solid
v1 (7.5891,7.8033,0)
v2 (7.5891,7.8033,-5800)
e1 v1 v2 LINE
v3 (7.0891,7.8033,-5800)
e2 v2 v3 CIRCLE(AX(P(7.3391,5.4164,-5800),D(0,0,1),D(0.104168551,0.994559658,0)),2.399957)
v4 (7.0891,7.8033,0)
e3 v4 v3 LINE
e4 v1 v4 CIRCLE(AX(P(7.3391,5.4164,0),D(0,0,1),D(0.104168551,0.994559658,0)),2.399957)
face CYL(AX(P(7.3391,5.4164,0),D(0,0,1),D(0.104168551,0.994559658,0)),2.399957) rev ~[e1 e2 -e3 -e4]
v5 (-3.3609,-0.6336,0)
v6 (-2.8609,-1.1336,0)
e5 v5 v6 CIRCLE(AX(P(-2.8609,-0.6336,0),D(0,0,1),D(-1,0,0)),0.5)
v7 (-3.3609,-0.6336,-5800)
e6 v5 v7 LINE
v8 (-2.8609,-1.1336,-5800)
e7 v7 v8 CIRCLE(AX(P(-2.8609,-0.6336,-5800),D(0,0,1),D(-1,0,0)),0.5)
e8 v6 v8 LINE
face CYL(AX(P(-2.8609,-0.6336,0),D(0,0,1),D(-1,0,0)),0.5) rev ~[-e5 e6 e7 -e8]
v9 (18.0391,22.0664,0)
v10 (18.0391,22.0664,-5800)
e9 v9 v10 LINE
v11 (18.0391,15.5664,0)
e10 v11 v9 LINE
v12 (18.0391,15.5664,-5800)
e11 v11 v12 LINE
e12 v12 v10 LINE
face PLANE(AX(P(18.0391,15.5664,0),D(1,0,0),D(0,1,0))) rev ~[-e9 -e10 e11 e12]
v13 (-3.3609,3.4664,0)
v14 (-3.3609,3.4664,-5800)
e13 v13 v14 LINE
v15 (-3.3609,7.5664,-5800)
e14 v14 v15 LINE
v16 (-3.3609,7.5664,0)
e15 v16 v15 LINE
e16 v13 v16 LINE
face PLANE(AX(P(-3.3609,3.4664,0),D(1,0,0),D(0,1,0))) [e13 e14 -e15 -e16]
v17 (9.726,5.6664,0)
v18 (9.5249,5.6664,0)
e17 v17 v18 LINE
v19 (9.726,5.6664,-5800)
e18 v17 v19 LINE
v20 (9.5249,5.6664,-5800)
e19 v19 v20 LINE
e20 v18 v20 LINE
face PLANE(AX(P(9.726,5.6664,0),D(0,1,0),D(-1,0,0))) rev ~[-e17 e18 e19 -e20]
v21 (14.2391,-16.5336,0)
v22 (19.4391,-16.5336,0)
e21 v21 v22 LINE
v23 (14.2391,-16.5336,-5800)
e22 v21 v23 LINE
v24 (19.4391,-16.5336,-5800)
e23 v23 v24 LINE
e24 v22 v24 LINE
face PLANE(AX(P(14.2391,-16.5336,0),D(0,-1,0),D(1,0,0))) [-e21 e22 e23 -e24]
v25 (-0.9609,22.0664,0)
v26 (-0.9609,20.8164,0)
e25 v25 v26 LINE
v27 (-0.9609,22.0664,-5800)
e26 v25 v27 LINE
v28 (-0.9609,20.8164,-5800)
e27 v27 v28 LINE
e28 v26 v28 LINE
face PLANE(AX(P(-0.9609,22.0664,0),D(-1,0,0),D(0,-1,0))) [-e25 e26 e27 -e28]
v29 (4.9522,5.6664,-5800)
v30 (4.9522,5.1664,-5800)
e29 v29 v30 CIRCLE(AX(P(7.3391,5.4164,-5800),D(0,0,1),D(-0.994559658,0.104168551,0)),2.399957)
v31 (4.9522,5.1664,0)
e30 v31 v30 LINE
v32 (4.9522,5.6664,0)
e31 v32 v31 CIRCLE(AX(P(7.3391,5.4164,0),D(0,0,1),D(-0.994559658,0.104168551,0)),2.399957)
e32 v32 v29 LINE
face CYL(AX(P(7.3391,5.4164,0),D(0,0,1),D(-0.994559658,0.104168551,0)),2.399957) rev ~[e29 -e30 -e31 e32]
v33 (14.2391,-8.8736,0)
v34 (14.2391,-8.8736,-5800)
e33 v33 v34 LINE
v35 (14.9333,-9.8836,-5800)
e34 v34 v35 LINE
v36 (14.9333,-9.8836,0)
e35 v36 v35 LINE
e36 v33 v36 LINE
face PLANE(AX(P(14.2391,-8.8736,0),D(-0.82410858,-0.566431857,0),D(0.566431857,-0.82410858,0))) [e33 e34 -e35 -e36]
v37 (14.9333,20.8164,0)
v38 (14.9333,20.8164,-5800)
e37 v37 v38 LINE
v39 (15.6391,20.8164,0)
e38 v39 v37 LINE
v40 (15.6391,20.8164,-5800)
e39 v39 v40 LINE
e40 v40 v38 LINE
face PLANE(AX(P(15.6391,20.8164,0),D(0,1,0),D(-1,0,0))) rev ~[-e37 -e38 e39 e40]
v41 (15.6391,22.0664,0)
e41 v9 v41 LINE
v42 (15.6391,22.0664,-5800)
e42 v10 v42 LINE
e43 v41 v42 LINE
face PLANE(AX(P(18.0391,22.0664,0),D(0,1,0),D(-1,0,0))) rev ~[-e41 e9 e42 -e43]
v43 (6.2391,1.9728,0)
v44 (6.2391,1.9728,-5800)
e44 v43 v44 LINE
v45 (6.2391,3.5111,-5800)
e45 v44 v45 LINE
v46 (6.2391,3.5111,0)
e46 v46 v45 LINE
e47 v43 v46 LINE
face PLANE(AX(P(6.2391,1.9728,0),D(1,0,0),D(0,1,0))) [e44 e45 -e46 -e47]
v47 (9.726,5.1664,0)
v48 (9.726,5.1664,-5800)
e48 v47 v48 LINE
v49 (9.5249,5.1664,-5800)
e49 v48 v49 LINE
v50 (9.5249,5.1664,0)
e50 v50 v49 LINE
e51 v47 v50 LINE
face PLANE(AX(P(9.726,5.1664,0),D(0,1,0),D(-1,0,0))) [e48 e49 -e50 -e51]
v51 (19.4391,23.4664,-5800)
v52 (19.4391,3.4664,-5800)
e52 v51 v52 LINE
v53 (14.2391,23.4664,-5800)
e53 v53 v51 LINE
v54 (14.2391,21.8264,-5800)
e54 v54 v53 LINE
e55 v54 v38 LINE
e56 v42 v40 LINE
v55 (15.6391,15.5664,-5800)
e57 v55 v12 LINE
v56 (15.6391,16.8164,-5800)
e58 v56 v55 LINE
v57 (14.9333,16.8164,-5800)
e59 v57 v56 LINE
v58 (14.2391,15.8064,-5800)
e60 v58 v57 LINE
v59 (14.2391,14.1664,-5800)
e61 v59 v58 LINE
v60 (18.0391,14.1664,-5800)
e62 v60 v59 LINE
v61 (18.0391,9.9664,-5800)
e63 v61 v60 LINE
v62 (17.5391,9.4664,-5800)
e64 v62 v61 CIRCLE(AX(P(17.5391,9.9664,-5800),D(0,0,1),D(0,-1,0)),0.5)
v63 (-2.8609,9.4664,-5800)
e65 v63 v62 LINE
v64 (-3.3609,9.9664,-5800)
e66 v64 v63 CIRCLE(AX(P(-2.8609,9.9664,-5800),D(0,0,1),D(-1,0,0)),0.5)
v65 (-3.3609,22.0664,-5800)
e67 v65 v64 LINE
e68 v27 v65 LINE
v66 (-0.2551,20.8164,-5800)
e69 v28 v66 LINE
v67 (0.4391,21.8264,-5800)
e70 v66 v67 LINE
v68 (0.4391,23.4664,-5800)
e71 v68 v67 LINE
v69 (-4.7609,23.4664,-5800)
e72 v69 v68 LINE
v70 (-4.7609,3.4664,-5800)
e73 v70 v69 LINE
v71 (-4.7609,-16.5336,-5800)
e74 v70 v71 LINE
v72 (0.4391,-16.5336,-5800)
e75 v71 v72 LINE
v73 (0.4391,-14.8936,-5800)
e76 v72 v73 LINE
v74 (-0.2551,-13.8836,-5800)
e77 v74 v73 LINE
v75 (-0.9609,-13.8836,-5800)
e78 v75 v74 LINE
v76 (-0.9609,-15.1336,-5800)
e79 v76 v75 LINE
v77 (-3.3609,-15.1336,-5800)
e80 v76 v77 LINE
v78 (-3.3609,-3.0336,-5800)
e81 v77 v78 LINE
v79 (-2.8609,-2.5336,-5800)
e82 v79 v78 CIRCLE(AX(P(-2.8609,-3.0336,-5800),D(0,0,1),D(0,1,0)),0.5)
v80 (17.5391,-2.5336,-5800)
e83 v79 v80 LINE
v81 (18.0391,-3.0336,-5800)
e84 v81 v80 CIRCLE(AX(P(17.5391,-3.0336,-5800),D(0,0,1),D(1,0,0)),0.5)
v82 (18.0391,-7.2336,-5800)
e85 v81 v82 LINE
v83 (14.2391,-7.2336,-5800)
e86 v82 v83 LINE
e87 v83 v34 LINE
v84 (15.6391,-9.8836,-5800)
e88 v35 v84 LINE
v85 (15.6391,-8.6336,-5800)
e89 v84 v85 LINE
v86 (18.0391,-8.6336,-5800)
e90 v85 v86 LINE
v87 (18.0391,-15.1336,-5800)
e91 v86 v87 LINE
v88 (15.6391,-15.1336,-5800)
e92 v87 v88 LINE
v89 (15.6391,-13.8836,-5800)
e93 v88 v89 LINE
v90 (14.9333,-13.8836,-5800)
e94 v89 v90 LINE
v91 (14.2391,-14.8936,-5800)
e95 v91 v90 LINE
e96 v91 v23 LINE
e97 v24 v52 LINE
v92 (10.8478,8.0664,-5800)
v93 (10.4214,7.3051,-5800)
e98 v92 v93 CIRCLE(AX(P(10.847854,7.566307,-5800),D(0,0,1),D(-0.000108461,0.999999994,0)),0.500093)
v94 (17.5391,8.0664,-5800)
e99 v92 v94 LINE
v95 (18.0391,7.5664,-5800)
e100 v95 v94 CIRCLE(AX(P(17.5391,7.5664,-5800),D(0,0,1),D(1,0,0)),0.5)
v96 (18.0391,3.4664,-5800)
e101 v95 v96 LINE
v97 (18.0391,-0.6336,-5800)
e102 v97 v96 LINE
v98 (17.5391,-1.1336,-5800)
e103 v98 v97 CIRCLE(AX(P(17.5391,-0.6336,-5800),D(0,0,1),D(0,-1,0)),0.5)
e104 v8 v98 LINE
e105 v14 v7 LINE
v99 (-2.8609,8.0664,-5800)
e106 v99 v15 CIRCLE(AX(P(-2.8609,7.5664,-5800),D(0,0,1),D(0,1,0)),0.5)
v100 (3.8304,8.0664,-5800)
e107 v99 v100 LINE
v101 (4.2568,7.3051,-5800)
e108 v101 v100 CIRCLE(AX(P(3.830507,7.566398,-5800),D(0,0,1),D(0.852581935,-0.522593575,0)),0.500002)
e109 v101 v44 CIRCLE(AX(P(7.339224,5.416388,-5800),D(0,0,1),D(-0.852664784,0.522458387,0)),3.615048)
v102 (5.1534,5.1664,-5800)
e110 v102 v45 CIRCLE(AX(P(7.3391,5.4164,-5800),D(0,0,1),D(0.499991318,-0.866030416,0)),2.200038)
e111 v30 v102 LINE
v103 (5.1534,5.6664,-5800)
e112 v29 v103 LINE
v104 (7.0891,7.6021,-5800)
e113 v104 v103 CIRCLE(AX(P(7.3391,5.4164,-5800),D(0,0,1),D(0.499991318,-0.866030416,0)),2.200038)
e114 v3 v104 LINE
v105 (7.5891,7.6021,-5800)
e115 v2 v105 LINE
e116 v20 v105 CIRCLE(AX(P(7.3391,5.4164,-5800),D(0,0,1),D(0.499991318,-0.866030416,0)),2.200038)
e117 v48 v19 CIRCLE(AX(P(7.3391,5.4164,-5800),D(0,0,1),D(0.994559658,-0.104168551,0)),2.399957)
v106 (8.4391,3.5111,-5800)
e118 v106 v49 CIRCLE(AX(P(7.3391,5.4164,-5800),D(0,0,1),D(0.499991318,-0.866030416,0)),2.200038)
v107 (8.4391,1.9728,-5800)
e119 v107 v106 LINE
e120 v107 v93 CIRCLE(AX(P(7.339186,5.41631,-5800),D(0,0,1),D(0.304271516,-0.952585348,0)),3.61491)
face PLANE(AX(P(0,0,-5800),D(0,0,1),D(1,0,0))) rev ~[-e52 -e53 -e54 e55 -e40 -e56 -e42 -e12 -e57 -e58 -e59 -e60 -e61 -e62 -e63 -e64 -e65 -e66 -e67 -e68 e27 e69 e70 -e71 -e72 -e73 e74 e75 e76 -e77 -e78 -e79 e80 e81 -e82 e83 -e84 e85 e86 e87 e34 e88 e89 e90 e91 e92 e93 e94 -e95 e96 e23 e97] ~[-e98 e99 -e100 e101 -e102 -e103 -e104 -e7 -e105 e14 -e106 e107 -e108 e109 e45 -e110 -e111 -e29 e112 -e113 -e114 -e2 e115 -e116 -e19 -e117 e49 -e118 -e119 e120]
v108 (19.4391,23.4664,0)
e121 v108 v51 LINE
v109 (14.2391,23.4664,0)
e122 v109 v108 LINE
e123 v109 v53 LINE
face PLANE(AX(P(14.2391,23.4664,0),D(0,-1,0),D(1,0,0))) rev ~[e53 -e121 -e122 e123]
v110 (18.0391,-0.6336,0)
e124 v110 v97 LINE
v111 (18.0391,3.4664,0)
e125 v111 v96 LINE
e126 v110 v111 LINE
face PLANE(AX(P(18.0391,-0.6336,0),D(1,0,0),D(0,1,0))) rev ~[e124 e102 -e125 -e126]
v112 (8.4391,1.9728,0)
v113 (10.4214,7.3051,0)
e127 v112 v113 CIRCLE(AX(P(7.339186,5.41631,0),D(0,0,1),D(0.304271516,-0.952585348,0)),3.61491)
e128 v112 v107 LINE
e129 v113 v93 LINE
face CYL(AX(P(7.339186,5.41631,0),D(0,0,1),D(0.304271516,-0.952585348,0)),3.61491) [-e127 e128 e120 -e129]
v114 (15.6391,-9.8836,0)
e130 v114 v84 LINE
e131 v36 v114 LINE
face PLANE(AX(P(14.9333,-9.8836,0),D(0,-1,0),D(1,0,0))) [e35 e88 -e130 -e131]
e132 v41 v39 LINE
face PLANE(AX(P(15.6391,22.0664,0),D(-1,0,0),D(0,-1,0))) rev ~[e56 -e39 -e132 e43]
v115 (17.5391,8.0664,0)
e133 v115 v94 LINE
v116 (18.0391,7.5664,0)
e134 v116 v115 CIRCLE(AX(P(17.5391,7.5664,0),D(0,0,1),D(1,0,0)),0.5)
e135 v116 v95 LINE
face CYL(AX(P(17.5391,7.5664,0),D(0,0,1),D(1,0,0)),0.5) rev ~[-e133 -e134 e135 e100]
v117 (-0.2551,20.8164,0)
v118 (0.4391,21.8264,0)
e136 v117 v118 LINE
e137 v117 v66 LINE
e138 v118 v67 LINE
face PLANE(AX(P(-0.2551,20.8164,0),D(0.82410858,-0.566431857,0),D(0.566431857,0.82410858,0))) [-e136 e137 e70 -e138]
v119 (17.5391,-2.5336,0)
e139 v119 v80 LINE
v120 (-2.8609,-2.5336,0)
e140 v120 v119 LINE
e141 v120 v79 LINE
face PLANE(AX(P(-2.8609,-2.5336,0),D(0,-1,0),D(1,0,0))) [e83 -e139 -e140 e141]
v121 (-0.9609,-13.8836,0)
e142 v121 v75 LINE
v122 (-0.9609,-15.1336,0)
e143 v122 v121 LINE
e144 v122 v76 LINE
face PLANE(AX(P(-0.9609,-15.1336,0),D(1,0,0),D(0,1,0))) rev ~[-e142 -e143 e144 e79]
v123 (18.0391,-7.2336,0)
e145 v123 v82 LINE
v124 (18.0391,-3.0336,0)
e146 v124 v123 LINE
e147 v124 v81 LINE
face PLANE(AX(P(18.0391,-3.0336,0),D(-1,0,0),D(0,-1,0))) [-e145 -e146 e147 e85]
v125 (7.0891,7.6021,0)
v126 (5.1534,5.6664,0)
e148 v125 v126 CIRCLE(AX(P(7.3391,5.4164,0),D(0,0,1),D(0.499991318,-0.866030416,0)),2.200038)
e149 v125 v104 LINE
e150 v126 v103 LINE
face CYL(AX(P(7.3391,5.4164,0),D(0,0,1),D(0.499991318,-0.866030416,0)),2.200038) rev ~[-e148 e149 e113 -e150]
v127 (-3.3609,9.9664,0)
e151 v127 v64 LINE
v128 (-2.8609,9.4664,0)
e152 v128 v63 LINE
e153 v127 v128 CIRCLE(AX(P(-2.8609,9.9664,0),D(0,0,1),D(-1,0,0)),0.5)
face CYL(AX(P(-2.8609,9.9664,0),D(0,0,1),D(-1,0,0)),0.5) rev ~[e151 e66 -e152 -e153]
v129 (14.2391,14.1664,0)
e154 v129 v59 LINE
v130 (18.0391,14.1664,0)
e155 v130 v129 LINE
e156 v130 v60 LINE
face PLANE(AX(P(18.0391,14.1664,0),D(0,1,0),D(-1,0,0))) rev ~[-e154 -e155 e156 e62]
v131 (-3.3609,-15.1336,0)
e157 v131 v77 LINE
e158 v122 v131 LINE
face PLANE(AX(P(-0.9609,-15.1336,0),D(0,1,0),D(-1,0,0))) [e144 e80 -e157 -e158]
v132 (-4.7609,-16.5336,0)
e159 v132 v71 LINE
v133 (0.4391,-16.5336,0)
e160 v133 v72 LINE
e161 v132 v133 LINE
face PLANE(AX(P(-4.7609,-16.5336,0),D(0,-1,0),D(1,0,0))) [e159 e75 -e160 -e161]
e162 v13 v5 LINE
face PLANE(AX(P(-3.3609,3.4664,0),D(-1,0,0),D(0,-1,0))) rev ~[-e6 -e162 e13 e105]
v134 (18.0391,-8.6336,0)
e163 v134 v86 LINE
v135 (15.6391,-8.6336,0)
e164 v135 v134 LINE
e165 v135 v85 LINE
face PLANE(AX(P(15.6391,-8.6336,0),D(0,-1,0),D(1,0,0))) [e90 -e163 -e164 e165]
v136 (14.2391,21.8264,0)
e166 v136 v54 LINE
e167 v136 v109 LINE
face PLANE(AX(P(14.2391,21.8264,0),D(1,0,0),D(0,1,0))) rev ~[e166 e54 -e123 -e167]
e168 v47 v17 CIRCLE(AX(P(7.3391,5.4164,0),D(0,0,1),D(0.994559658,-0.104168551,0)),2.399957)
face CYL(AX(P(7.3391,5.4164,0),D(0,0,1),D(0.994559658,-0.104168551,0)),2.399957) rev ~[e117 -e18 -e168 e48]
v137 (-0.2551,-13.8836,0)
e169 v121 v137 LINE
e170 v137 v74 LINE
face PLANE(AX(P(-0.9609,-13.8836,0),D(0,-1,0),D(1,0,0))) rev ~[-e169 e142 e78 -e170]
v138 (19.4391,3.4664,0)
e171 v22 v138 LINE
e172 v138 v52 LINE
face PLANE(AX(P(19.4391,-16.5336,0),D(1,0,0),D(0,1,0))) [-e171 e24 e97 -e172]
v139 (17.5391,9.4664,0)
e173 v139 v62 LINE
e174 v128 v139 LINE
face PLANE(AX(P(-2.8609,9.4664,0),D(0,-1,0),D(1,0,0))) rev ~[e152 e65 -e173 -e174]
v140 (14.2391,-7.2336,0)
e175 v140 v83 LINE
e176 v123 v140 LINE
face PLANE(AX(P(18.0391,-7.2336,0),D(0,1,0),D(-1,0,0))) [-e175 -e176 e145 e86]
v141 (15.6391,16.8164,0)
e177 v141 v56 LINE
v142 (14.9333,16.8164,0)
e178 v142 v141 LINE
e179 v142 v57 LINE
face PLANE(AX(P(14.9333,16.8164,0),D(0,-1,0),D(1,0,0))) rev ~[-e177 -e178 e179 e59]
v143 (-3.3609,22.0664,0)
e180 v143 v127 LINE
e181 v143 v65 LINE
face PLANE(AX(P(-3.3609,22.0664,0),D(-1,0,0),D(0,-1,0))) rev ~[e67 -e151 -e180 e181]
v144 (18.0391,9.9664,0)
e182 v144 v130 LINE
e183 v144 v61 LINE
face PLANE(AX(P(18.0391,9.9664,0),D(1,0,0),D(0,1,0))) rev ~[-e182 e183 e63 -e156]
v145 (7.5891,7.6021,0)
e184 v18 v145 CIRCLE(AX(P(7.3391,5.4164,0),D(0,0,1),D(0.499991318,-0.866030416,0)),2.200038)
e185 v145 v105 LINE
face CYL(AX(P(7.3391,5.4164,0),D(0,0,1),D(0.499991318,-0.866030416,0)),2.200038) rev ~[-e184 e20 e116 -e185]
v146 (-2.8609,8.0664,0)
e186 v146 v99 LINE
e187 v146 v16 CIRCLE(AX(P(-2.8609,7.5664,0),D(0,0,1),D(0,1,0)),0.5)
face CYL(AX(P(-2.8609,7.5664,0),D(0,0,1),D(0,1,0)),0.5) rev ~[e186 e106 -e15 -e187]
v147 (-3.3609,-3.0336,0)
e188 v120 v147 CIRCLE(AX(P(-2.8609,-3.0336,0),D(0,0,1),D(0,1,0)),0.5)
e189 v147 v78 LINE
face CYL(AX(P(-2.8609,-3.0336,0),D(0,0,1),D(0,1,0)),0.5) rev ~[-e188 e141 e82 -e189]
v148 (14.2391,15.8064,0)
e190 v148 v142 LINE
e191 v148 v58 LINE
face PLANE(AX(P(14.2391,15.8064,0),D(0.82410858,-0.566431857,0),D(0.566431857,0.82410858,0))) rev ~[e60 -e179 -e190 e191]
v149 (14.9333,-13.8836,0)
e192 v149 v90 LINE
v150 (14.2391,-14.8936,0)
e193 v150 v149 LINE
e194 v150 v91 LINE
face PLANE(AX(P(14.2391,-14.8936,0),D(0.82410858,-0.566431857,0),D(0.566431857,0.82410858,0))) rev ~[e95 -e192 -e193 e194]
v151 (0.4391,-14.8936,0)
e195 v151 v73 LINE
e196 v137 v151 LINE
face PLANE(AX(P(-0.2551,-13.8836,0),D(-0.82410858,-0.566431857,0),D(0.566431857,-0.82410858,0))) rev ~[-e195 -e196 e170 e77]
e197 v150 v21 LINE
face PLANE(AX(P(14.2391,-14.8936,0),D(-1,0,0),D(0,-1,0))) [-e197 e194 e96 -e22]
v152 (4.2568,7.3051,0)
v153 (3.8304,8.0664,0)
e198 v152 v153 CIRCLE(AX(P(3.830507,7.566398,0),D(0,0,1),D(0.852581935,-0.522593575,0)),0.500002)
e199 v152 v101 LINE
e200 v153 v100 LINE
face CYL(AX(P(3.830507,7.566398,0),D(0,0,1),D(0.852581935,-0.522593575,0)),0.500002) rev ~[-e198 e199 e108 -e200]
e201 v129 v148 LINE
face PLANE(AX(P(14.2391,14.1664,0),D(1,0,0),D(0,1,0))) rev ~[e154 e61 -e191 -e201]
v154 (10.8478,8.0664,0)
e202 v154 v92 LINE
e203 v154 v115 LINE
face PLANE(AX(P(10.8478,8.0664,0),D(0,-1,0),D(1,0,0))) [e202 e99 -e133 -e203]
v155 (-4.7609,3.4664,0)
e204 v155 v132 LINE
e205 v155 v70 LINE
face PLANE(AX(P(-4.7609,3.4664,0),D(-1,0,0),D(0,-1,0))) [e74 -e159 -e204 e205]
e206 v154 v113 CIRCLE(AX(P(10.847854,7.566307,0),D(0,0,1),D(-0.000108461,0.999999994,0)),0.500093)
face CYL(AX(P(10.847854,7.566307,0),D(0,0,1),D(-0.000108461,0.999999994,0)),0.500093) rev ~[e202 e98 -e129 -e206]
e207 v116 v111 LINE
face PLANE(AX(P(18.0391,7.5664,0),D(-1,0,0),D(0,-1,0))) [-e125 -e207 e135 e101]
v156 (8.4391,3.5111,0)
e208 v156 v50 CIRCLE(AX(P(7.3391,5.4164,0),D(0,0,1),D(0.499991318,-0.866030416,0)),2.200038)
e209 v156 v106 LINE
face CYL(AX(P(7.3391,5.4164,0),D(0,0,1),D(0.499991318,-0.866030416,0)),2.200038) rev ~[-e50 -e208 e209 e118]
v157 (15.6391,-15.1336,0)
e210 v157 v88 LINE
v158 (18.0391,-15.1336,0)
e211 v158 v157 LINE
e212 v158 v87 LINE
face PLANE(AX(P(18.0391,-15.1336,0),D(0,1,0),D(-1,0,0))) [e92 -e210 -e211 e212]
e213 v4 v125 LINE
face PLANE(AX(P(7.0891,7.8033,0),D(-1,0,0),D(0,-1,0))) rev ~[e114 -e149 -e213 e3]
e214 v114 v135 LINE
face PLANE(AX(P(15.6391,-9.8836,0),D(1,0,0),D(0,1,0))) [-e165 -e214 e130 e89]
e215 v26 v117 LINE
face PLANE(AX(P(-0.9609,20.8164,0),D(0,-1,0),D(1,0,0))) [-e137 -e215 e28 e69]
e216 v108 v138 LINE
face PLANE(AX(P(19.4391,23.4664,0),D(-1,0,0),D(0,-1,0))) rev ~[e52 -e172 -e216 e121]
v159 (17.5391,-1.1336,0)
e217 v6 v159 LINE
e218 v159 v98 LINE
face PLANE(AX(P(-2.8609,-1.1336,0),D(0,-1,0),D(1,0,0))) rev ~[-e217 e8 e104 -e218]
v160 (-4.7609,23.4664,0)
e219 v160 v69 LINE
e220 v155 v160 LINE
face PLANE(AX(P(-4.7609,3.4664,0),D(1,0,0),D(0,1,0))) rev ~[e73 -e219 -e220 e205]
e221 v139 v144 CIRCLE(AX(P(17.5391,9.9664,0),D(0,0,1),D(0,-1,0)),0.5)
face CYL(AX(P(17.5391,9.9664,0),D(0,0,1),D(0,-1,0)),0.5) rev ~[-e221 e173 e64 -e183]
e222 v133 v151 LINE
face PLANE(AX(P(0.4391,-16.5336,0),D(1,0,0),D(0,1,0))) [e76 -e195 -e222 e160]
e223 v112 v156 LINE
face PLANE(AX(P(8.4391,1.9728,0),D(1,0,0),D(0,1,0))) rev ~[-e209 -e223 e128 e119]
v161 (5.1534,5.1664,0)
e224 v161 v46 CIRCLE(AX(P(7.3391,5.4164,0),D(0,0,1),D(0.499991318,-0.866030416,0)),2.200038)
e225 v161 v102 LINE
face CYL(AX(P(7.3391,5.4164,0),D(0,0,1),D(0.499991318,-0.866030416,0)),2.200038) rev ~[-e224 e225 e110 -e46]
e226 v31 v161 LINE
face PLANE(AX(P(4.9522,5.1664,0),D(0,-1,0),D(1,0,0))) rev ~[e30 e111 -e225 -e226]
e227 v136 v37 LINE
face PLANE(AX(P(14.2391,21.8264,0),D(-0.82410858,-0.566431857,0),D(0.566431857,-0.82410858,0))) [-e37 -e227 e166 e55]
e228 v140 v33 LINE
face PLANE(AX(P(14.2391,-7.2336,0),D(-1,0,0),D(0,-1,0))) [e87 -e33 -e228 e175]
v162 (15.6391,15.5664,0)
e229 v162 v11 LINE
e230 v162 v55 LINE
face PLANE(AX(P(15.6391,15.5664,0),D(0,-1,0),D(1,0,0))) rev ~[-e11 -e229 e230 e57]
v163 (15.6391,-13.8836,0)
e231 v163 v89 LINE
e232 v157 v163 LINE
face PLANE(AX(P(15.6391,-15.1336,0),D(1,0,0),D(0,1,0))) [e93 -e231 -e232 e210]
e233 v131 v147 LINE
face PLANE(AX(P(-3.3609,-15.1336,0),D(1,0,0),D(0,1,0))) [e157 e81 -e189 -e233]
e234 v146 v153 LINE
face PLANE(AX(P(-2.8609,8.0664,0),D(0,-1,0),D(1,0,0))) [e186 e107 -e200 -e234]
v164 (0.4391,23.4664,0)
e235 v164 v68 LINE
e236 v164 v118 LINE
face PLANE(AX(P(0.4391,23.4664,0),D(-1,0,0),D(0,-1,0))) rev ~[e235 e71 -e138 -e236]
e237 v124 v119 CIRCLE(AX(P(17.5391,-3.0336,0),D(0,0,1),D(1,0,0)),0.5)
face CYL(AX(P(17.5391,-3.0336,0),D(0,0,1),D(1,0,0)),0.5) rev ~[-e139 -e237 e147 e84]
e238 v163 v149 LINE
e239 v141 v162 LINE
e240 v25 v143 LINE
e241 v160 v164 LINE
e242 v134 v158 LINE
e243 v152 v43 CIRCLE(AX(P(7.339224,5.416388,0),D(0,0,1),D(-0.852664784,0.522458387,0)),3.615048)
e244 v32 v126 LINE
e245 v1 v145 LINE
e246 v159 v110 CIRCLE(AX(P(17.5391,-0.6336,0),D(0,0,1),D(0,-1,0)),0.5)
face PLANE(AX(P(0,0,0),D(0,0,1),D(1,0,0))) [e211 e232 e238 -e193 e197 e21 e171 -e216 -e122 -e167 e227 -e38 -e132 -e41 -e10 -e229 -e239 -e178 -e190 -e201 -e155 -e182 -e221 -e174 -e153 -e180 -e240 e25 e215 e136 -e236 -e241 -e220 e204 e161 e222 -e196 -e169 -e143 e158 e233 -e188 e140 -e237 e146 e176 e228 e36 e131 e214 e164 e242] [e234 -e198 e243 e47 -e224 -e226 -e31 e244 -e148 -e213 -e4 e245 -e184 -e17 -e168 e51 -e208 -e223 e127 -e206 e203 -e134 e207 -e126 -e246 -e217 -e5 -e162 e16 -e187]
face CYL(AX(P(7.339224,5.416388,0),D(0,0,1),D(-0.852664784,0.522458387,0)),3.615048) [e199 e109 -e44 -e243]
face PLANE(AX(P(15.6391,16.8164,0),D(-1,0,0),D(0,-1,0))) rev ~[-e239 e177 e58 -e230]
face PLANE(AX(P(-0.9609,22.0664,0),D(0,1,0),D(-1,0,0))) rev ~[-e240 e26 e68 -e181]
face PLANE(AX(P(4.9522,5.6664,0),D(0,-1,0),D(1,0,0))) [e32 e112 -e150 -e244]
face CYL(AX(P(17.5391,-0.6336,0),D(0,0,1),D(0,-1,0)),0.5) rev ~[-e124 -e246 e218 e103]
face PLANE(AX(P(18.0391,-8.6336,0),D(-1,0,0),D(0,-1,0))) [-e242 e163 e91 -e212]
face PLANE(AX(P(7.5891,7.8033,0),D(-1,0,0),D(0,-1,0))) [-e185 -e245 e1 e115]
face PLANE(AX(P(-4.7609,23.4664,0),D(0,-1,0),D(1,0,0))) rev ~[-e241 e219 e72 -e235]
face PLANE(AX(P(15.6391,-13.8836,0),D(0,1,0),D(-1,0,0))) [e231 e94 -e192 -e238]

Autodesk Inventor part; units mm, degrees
ref_plane "YZ Plane" through (0, 0, 0) normal (1, 0, 0) x (0, 1, 0)
ref_plane "XZ Plane" through (0, 0, 0) normal (0, 1, 0) x (-1, 0, 0)
ref_plane "XY Plane" through (0, 0, 0) normal (0, 0, 1) x (1, 0, 0)
sketch "Boceto1" plane through (0, 0, 0) normal (0, 0, 1) x (1, 0, 0)
  line L0 (-4.7609, 3.4664) -> (-4.7609, -16.5336)
  line L1 (-4.7609, -16.5336) -> (0.4391, -16.5336)
  line L2 (0.4391, -16.5336) -> (0.4391, -14.8936)
  line L3 (-0.9609, -15.1336) -> (-3.3609, -15.1336)
  line L4 (-3.3609, -15.1336) -> (-3.3609, -3.0336)
  line L5 (-2.8609, -2.5336) -> (17.5391, -2.5336)
  line L6 (18.0391, -3.0336) -> (18.0391, -7.2336)
  line L7 (18.0391, -7.2336) -> (14.2391, -7.2336)
  line L8 (14.2391, -7.2336) -> (14.2391, -8.8736)
  line L9 (14.9333, -9.8836) -> (15.6391, -9.8836)
  line L10 (15.6391, -9.8836) -> (15.6391, -8.6336)
  line L11 (15.6391, -8.6336) -> (18.0391, -8.6336)
  line L12 (18.0391, -8.6336) -> (18.0391, -15.1336)
  line L13 (18.0391, -15.1336) -> (15.6391, -15.1336)
  line L14 (15.6391, -15.1336) -> (15.6391, -13.8836)
  line L15 (15.6391, -13.8836) -> (14.9333, -13.8836)
  line L16 (14.2391, -14.8936) -> (14.2391, -16.5336)
  line L17 (14.2391, -16.5336) -> (19.4391, -16.5336)
  line L18 (19.4391, -16.5336) -> (19.4391, 3.4664)
  line L19 (-3.3609, 3.4664) -> (-3.3609, -0.6336)
  line L20 (18.0391, -0.6336) -> (18.0391, 3.4664)
  line L21 (7.3391, 9.4664) -> (7.3391, -1.1336) construction
  line L22 (-2.8609, -1.1336) -> (17.5391, -1.1336)
  line L23 (-0.9609, -15.1336) -> (-0.9609, -13.8836)
  line L24 (-0.9609, -13.8836) -> (-0.2551, -13.8836)
  line L25 (-0.2551, -13.8836) -> (0.4391, -14.8936)
  line L26 (14.2391, -8.8736) -> (14.9333, -9.8836)
  line L27 (14.2391, -14.8936) -> (14.9333, -13.8836)
  arc A0 (-2.8609, -2.5336) -> (-3.3609, -3.0336) centre (-2.8609, -3.0336) ccw
  arc A1 (-3.3609, -0.6336) -> (-2.8609, -1.1336) centre (-2.8609, -0.6336) ccw
  arc A2 (17.5391, -1.1336) -> (18.0391, -0.6336) centre (17.5391, -0.6336) ccw
  arc A3 (18.0391, -3.0336) -> (17.5391, -2.5336) centre (17.5391, -3.0336) ccw
  line L28 (-4.7609, 3.4664) -> (-4.7609, 23.4664)
  line L29 (-4.7609, 23.4664) -> (0.4391, 23.4664)
  line L30 (0.4391, 23.4664) -> (0.4391, 21.8264)
  line L31 (-0.9609, 22.0664) -> (-3.3609, 22.0664)
  line L32 (-3.3609, 22.0664) -> (-3.3609, 9.9664)
  line L33 (-2.8609, 9.4664) -> (17.5391, 9.4664)
  line L34 (18.0391, 9.9664) -> (18.0391, 14.1664)
  line L35 (18.0391, 14.1664) -> (14.2391, 14.1664)
  line L36 (14.2391, 14.1664) -> (14.2391, 15.8064)
  line L37 (14.9333, 16.8164) -> (15.6391, 16.8164)
  line L38 (15.6391, 16.8164) -> (15.6391, 15.5664)
  line L39 (15.6391, 15.5664) -> (18.0391, 15.5664)
  line L40 (18.0391, 15.5664) -> (18.0391, 22.0664)
  line L41 (18.0391, 22.0664) -> (15.6391, 22.0664)
  line L42 (15.6391, 22.0664) -> (15.6391, 20.8164)
  line L43 (15.6391, 20.8164) -> (14.9333, 20.8164)
  line L44 (14.2391, 21.8264) -> (14.2391, 23.4664)
  line L45 (14.2391, 23.4664) -> (19.4391, 23.4664)
  line L46 (19.4391, 23.4664) -> (19.4391, 3.4664)
  line L47 (-3.3609, 3.4664) -> (-3.3609, 7.5664)
  line L48 (18.0391, 7.5664) -> (18.0391, 3.4664)
  line L49 (7.3391, -1.1336) -> (7.3391, 9.4664) construction
  arc A4 (8.4391, 3.5111) -> (6.2391, 3.5111) centre (7.3391, 5.4164) ccw
  line L50 (4.9522, 5.6664) -> (5.1534, 5.6664)
  line L51 (4.9522, 5.1664) -> (5.1534, 5.1664)
  line L52 (-2.8609, 8.0664) -> (3.8304, 8.0664)
  line L53 (10.8478, 8.0664) -> (17.5391, 8.0664)
  line L54 (4.0797, 5.4164) -> (9.7739, 5.4164) construction
  line L55 (9.726, 5.6664) -> (9.5249, 5.6664)
  line L56 (9.726, 5.1664) -> (9.5249, 5.1664)
  line L57 (7.5891, 7.8033) -> (7.5891, 7.6021)
  line L58 (7.0891, 7.8033) -> (7.0891, 7.6021)
  arc A5 (7.5891, 7.8033) -> (7.0891, 7.8033) centre (7.3391, 5.4164) ccw
  arc A6 (9.726, 5.1664) -> (9.726, 5.6664) centre (7.3391, 5.4164) ccw
  arc A7 (4.9522, 5.6664) -> (4.9522, 5.1664) centre (7.3391, 5.4164) ccw
  circle A8 centre (7.3391, 5.4164) radius 2.4 construction
  line L59 (6.2391, 1.9728) -> (6.2391, 3.5111)
  line L60 (8.4391, 1.9728) -> (8.4391, 3.5111)
  arc A9 (8.4391, 1.9728) -> (10.4214, 7.3051) centre (7.3391, 5.4164) ccw
  arc A10 (4.2568, 7.3051) -> (6.2391, 1.9728) centre (7.3391, 5.4164) ccw
  line L61 (-0.9609, 22.0664) -> (-0.9609, 20.8164)
  line L62 (-0.9609, 20.8164) -> (-0.2551, 20.8164)
  line L63 (-0.2551, 20.8164) -> (0.4391, 21.8264)
  line L64 (14.2391, 15.8064) -> (14.9333, 16.8164)
  line L65 (14.2391, 21.8264) -> (14.9333, 20.8164)
  arc A11 (-3.3609, 9.9664) -> (-2.8609, 9.4664) centre (-2.8609, 9.9664) ccw
  arc A12 (-2.8609, 8.0664) -> (-3.3609, 7.5664) centre (-2.8609, 7.5664) ccw
  arc A13 (18.0391, 7.5664) -> (17.5391, 8.0664) centre (17.5391, 7.5664) ccw
  arc A14 (17.5391, 9.4664) -> (18.0391, 9.9664) centre (17.5391, 9.9664) ccw
  arc A15 (4.2568, 7.3051) -> (3.8304, 8.0664) centre (3.8304, 7.5664) ccw
  arc A16 (10.8478, 8.0664) -> (10.4214, 7.3051) centre (10.8478, 7.5664) ccw
  point P0 (18.0391, -11.8836)
  point P1 (4.8803, 8.0664)
  point P2 (9.7979, 8.0664)
  point P3 (18.0391, 18.8164)
  dimension "d0" = 1.4
  dimension "d1" = 1.4
  dimension "d2" = 1.4
  dimension "d3" = 1.4
  dimension "d4" = 1.4
  dimension "d5" = 1.4
  dimension "d6" = 1.4
  dimension "d7" = 1.4
  dimension "d8" = 1.4
  dimension "d9" = 1.4
  dimension "d43" = 14
  dimension "d44" = 4
  dimension "d45" = 9.3
  dimension "d46" = 6.5
  dimension "d47" = 24.2
  dimension "d48" = 5.2
  dimension "d49" = 1.4
  dimension "d50" = 5.2
  dimension "d51" = 13.8
  dimension "d52" = 21.4
  dimension "d63" = 2.65
  dimension "d64" = 1.64
  dimension "d65" = 34.5
  dimension "d66" = 2
  dimension "d67" = 2
  dimension "d68" = 2.4
  dimension "d69" = 3.01
  dimension "d70" = 6.02
  dimension "d71" = 34.5
  dimension "d72" = 111
  dimension "d74" = 0.7058
  dimension "d75" = 0.7058
  dimension "d86" = 0.5
  dimension "d87" = 0.5
  dimension "d88" = 40
  dimension "d89" = 1.4
  dimension "d90" = 9.2
  dimension "d91" = 26
  dimension "d92" = 4.05
  dimension "d93" = 3.615
  dimension "d94" = 3.615
  dimension "d95" = 2.4
  dimension "d96" = 2.4
  dimension "d97" = 2.4
  dimension "d98" = 4.8
  dimension "d99" = 2.2
  dimension "d100" = 90
  dimension "d101" = 90
  dimension "d102" = 90
  dimension "d103" = 90
  dimension "d104" = 90
  dimension "d105" = 90
  dimension "d106" = 90
  dimension "d107" = 90
  dimension "d108" = 90
  dimension "d109" = 90
  dimension "d110" = 3.8
  dimension "d111" = 5.2
  dimension "d112" = 11
  dimension "d113" = 11.85
  dimension "d114" = 12.1
  dimension "d115" = 12.35
  dimension "d116" = 13.2
  dimension "d117" = 19
extrude "Extrusión1" add sketch "Boceto1" against normal blind 5800
properties part number "SP40-04B TRAVESAÑO CENTRAL" material "Aluminio"
